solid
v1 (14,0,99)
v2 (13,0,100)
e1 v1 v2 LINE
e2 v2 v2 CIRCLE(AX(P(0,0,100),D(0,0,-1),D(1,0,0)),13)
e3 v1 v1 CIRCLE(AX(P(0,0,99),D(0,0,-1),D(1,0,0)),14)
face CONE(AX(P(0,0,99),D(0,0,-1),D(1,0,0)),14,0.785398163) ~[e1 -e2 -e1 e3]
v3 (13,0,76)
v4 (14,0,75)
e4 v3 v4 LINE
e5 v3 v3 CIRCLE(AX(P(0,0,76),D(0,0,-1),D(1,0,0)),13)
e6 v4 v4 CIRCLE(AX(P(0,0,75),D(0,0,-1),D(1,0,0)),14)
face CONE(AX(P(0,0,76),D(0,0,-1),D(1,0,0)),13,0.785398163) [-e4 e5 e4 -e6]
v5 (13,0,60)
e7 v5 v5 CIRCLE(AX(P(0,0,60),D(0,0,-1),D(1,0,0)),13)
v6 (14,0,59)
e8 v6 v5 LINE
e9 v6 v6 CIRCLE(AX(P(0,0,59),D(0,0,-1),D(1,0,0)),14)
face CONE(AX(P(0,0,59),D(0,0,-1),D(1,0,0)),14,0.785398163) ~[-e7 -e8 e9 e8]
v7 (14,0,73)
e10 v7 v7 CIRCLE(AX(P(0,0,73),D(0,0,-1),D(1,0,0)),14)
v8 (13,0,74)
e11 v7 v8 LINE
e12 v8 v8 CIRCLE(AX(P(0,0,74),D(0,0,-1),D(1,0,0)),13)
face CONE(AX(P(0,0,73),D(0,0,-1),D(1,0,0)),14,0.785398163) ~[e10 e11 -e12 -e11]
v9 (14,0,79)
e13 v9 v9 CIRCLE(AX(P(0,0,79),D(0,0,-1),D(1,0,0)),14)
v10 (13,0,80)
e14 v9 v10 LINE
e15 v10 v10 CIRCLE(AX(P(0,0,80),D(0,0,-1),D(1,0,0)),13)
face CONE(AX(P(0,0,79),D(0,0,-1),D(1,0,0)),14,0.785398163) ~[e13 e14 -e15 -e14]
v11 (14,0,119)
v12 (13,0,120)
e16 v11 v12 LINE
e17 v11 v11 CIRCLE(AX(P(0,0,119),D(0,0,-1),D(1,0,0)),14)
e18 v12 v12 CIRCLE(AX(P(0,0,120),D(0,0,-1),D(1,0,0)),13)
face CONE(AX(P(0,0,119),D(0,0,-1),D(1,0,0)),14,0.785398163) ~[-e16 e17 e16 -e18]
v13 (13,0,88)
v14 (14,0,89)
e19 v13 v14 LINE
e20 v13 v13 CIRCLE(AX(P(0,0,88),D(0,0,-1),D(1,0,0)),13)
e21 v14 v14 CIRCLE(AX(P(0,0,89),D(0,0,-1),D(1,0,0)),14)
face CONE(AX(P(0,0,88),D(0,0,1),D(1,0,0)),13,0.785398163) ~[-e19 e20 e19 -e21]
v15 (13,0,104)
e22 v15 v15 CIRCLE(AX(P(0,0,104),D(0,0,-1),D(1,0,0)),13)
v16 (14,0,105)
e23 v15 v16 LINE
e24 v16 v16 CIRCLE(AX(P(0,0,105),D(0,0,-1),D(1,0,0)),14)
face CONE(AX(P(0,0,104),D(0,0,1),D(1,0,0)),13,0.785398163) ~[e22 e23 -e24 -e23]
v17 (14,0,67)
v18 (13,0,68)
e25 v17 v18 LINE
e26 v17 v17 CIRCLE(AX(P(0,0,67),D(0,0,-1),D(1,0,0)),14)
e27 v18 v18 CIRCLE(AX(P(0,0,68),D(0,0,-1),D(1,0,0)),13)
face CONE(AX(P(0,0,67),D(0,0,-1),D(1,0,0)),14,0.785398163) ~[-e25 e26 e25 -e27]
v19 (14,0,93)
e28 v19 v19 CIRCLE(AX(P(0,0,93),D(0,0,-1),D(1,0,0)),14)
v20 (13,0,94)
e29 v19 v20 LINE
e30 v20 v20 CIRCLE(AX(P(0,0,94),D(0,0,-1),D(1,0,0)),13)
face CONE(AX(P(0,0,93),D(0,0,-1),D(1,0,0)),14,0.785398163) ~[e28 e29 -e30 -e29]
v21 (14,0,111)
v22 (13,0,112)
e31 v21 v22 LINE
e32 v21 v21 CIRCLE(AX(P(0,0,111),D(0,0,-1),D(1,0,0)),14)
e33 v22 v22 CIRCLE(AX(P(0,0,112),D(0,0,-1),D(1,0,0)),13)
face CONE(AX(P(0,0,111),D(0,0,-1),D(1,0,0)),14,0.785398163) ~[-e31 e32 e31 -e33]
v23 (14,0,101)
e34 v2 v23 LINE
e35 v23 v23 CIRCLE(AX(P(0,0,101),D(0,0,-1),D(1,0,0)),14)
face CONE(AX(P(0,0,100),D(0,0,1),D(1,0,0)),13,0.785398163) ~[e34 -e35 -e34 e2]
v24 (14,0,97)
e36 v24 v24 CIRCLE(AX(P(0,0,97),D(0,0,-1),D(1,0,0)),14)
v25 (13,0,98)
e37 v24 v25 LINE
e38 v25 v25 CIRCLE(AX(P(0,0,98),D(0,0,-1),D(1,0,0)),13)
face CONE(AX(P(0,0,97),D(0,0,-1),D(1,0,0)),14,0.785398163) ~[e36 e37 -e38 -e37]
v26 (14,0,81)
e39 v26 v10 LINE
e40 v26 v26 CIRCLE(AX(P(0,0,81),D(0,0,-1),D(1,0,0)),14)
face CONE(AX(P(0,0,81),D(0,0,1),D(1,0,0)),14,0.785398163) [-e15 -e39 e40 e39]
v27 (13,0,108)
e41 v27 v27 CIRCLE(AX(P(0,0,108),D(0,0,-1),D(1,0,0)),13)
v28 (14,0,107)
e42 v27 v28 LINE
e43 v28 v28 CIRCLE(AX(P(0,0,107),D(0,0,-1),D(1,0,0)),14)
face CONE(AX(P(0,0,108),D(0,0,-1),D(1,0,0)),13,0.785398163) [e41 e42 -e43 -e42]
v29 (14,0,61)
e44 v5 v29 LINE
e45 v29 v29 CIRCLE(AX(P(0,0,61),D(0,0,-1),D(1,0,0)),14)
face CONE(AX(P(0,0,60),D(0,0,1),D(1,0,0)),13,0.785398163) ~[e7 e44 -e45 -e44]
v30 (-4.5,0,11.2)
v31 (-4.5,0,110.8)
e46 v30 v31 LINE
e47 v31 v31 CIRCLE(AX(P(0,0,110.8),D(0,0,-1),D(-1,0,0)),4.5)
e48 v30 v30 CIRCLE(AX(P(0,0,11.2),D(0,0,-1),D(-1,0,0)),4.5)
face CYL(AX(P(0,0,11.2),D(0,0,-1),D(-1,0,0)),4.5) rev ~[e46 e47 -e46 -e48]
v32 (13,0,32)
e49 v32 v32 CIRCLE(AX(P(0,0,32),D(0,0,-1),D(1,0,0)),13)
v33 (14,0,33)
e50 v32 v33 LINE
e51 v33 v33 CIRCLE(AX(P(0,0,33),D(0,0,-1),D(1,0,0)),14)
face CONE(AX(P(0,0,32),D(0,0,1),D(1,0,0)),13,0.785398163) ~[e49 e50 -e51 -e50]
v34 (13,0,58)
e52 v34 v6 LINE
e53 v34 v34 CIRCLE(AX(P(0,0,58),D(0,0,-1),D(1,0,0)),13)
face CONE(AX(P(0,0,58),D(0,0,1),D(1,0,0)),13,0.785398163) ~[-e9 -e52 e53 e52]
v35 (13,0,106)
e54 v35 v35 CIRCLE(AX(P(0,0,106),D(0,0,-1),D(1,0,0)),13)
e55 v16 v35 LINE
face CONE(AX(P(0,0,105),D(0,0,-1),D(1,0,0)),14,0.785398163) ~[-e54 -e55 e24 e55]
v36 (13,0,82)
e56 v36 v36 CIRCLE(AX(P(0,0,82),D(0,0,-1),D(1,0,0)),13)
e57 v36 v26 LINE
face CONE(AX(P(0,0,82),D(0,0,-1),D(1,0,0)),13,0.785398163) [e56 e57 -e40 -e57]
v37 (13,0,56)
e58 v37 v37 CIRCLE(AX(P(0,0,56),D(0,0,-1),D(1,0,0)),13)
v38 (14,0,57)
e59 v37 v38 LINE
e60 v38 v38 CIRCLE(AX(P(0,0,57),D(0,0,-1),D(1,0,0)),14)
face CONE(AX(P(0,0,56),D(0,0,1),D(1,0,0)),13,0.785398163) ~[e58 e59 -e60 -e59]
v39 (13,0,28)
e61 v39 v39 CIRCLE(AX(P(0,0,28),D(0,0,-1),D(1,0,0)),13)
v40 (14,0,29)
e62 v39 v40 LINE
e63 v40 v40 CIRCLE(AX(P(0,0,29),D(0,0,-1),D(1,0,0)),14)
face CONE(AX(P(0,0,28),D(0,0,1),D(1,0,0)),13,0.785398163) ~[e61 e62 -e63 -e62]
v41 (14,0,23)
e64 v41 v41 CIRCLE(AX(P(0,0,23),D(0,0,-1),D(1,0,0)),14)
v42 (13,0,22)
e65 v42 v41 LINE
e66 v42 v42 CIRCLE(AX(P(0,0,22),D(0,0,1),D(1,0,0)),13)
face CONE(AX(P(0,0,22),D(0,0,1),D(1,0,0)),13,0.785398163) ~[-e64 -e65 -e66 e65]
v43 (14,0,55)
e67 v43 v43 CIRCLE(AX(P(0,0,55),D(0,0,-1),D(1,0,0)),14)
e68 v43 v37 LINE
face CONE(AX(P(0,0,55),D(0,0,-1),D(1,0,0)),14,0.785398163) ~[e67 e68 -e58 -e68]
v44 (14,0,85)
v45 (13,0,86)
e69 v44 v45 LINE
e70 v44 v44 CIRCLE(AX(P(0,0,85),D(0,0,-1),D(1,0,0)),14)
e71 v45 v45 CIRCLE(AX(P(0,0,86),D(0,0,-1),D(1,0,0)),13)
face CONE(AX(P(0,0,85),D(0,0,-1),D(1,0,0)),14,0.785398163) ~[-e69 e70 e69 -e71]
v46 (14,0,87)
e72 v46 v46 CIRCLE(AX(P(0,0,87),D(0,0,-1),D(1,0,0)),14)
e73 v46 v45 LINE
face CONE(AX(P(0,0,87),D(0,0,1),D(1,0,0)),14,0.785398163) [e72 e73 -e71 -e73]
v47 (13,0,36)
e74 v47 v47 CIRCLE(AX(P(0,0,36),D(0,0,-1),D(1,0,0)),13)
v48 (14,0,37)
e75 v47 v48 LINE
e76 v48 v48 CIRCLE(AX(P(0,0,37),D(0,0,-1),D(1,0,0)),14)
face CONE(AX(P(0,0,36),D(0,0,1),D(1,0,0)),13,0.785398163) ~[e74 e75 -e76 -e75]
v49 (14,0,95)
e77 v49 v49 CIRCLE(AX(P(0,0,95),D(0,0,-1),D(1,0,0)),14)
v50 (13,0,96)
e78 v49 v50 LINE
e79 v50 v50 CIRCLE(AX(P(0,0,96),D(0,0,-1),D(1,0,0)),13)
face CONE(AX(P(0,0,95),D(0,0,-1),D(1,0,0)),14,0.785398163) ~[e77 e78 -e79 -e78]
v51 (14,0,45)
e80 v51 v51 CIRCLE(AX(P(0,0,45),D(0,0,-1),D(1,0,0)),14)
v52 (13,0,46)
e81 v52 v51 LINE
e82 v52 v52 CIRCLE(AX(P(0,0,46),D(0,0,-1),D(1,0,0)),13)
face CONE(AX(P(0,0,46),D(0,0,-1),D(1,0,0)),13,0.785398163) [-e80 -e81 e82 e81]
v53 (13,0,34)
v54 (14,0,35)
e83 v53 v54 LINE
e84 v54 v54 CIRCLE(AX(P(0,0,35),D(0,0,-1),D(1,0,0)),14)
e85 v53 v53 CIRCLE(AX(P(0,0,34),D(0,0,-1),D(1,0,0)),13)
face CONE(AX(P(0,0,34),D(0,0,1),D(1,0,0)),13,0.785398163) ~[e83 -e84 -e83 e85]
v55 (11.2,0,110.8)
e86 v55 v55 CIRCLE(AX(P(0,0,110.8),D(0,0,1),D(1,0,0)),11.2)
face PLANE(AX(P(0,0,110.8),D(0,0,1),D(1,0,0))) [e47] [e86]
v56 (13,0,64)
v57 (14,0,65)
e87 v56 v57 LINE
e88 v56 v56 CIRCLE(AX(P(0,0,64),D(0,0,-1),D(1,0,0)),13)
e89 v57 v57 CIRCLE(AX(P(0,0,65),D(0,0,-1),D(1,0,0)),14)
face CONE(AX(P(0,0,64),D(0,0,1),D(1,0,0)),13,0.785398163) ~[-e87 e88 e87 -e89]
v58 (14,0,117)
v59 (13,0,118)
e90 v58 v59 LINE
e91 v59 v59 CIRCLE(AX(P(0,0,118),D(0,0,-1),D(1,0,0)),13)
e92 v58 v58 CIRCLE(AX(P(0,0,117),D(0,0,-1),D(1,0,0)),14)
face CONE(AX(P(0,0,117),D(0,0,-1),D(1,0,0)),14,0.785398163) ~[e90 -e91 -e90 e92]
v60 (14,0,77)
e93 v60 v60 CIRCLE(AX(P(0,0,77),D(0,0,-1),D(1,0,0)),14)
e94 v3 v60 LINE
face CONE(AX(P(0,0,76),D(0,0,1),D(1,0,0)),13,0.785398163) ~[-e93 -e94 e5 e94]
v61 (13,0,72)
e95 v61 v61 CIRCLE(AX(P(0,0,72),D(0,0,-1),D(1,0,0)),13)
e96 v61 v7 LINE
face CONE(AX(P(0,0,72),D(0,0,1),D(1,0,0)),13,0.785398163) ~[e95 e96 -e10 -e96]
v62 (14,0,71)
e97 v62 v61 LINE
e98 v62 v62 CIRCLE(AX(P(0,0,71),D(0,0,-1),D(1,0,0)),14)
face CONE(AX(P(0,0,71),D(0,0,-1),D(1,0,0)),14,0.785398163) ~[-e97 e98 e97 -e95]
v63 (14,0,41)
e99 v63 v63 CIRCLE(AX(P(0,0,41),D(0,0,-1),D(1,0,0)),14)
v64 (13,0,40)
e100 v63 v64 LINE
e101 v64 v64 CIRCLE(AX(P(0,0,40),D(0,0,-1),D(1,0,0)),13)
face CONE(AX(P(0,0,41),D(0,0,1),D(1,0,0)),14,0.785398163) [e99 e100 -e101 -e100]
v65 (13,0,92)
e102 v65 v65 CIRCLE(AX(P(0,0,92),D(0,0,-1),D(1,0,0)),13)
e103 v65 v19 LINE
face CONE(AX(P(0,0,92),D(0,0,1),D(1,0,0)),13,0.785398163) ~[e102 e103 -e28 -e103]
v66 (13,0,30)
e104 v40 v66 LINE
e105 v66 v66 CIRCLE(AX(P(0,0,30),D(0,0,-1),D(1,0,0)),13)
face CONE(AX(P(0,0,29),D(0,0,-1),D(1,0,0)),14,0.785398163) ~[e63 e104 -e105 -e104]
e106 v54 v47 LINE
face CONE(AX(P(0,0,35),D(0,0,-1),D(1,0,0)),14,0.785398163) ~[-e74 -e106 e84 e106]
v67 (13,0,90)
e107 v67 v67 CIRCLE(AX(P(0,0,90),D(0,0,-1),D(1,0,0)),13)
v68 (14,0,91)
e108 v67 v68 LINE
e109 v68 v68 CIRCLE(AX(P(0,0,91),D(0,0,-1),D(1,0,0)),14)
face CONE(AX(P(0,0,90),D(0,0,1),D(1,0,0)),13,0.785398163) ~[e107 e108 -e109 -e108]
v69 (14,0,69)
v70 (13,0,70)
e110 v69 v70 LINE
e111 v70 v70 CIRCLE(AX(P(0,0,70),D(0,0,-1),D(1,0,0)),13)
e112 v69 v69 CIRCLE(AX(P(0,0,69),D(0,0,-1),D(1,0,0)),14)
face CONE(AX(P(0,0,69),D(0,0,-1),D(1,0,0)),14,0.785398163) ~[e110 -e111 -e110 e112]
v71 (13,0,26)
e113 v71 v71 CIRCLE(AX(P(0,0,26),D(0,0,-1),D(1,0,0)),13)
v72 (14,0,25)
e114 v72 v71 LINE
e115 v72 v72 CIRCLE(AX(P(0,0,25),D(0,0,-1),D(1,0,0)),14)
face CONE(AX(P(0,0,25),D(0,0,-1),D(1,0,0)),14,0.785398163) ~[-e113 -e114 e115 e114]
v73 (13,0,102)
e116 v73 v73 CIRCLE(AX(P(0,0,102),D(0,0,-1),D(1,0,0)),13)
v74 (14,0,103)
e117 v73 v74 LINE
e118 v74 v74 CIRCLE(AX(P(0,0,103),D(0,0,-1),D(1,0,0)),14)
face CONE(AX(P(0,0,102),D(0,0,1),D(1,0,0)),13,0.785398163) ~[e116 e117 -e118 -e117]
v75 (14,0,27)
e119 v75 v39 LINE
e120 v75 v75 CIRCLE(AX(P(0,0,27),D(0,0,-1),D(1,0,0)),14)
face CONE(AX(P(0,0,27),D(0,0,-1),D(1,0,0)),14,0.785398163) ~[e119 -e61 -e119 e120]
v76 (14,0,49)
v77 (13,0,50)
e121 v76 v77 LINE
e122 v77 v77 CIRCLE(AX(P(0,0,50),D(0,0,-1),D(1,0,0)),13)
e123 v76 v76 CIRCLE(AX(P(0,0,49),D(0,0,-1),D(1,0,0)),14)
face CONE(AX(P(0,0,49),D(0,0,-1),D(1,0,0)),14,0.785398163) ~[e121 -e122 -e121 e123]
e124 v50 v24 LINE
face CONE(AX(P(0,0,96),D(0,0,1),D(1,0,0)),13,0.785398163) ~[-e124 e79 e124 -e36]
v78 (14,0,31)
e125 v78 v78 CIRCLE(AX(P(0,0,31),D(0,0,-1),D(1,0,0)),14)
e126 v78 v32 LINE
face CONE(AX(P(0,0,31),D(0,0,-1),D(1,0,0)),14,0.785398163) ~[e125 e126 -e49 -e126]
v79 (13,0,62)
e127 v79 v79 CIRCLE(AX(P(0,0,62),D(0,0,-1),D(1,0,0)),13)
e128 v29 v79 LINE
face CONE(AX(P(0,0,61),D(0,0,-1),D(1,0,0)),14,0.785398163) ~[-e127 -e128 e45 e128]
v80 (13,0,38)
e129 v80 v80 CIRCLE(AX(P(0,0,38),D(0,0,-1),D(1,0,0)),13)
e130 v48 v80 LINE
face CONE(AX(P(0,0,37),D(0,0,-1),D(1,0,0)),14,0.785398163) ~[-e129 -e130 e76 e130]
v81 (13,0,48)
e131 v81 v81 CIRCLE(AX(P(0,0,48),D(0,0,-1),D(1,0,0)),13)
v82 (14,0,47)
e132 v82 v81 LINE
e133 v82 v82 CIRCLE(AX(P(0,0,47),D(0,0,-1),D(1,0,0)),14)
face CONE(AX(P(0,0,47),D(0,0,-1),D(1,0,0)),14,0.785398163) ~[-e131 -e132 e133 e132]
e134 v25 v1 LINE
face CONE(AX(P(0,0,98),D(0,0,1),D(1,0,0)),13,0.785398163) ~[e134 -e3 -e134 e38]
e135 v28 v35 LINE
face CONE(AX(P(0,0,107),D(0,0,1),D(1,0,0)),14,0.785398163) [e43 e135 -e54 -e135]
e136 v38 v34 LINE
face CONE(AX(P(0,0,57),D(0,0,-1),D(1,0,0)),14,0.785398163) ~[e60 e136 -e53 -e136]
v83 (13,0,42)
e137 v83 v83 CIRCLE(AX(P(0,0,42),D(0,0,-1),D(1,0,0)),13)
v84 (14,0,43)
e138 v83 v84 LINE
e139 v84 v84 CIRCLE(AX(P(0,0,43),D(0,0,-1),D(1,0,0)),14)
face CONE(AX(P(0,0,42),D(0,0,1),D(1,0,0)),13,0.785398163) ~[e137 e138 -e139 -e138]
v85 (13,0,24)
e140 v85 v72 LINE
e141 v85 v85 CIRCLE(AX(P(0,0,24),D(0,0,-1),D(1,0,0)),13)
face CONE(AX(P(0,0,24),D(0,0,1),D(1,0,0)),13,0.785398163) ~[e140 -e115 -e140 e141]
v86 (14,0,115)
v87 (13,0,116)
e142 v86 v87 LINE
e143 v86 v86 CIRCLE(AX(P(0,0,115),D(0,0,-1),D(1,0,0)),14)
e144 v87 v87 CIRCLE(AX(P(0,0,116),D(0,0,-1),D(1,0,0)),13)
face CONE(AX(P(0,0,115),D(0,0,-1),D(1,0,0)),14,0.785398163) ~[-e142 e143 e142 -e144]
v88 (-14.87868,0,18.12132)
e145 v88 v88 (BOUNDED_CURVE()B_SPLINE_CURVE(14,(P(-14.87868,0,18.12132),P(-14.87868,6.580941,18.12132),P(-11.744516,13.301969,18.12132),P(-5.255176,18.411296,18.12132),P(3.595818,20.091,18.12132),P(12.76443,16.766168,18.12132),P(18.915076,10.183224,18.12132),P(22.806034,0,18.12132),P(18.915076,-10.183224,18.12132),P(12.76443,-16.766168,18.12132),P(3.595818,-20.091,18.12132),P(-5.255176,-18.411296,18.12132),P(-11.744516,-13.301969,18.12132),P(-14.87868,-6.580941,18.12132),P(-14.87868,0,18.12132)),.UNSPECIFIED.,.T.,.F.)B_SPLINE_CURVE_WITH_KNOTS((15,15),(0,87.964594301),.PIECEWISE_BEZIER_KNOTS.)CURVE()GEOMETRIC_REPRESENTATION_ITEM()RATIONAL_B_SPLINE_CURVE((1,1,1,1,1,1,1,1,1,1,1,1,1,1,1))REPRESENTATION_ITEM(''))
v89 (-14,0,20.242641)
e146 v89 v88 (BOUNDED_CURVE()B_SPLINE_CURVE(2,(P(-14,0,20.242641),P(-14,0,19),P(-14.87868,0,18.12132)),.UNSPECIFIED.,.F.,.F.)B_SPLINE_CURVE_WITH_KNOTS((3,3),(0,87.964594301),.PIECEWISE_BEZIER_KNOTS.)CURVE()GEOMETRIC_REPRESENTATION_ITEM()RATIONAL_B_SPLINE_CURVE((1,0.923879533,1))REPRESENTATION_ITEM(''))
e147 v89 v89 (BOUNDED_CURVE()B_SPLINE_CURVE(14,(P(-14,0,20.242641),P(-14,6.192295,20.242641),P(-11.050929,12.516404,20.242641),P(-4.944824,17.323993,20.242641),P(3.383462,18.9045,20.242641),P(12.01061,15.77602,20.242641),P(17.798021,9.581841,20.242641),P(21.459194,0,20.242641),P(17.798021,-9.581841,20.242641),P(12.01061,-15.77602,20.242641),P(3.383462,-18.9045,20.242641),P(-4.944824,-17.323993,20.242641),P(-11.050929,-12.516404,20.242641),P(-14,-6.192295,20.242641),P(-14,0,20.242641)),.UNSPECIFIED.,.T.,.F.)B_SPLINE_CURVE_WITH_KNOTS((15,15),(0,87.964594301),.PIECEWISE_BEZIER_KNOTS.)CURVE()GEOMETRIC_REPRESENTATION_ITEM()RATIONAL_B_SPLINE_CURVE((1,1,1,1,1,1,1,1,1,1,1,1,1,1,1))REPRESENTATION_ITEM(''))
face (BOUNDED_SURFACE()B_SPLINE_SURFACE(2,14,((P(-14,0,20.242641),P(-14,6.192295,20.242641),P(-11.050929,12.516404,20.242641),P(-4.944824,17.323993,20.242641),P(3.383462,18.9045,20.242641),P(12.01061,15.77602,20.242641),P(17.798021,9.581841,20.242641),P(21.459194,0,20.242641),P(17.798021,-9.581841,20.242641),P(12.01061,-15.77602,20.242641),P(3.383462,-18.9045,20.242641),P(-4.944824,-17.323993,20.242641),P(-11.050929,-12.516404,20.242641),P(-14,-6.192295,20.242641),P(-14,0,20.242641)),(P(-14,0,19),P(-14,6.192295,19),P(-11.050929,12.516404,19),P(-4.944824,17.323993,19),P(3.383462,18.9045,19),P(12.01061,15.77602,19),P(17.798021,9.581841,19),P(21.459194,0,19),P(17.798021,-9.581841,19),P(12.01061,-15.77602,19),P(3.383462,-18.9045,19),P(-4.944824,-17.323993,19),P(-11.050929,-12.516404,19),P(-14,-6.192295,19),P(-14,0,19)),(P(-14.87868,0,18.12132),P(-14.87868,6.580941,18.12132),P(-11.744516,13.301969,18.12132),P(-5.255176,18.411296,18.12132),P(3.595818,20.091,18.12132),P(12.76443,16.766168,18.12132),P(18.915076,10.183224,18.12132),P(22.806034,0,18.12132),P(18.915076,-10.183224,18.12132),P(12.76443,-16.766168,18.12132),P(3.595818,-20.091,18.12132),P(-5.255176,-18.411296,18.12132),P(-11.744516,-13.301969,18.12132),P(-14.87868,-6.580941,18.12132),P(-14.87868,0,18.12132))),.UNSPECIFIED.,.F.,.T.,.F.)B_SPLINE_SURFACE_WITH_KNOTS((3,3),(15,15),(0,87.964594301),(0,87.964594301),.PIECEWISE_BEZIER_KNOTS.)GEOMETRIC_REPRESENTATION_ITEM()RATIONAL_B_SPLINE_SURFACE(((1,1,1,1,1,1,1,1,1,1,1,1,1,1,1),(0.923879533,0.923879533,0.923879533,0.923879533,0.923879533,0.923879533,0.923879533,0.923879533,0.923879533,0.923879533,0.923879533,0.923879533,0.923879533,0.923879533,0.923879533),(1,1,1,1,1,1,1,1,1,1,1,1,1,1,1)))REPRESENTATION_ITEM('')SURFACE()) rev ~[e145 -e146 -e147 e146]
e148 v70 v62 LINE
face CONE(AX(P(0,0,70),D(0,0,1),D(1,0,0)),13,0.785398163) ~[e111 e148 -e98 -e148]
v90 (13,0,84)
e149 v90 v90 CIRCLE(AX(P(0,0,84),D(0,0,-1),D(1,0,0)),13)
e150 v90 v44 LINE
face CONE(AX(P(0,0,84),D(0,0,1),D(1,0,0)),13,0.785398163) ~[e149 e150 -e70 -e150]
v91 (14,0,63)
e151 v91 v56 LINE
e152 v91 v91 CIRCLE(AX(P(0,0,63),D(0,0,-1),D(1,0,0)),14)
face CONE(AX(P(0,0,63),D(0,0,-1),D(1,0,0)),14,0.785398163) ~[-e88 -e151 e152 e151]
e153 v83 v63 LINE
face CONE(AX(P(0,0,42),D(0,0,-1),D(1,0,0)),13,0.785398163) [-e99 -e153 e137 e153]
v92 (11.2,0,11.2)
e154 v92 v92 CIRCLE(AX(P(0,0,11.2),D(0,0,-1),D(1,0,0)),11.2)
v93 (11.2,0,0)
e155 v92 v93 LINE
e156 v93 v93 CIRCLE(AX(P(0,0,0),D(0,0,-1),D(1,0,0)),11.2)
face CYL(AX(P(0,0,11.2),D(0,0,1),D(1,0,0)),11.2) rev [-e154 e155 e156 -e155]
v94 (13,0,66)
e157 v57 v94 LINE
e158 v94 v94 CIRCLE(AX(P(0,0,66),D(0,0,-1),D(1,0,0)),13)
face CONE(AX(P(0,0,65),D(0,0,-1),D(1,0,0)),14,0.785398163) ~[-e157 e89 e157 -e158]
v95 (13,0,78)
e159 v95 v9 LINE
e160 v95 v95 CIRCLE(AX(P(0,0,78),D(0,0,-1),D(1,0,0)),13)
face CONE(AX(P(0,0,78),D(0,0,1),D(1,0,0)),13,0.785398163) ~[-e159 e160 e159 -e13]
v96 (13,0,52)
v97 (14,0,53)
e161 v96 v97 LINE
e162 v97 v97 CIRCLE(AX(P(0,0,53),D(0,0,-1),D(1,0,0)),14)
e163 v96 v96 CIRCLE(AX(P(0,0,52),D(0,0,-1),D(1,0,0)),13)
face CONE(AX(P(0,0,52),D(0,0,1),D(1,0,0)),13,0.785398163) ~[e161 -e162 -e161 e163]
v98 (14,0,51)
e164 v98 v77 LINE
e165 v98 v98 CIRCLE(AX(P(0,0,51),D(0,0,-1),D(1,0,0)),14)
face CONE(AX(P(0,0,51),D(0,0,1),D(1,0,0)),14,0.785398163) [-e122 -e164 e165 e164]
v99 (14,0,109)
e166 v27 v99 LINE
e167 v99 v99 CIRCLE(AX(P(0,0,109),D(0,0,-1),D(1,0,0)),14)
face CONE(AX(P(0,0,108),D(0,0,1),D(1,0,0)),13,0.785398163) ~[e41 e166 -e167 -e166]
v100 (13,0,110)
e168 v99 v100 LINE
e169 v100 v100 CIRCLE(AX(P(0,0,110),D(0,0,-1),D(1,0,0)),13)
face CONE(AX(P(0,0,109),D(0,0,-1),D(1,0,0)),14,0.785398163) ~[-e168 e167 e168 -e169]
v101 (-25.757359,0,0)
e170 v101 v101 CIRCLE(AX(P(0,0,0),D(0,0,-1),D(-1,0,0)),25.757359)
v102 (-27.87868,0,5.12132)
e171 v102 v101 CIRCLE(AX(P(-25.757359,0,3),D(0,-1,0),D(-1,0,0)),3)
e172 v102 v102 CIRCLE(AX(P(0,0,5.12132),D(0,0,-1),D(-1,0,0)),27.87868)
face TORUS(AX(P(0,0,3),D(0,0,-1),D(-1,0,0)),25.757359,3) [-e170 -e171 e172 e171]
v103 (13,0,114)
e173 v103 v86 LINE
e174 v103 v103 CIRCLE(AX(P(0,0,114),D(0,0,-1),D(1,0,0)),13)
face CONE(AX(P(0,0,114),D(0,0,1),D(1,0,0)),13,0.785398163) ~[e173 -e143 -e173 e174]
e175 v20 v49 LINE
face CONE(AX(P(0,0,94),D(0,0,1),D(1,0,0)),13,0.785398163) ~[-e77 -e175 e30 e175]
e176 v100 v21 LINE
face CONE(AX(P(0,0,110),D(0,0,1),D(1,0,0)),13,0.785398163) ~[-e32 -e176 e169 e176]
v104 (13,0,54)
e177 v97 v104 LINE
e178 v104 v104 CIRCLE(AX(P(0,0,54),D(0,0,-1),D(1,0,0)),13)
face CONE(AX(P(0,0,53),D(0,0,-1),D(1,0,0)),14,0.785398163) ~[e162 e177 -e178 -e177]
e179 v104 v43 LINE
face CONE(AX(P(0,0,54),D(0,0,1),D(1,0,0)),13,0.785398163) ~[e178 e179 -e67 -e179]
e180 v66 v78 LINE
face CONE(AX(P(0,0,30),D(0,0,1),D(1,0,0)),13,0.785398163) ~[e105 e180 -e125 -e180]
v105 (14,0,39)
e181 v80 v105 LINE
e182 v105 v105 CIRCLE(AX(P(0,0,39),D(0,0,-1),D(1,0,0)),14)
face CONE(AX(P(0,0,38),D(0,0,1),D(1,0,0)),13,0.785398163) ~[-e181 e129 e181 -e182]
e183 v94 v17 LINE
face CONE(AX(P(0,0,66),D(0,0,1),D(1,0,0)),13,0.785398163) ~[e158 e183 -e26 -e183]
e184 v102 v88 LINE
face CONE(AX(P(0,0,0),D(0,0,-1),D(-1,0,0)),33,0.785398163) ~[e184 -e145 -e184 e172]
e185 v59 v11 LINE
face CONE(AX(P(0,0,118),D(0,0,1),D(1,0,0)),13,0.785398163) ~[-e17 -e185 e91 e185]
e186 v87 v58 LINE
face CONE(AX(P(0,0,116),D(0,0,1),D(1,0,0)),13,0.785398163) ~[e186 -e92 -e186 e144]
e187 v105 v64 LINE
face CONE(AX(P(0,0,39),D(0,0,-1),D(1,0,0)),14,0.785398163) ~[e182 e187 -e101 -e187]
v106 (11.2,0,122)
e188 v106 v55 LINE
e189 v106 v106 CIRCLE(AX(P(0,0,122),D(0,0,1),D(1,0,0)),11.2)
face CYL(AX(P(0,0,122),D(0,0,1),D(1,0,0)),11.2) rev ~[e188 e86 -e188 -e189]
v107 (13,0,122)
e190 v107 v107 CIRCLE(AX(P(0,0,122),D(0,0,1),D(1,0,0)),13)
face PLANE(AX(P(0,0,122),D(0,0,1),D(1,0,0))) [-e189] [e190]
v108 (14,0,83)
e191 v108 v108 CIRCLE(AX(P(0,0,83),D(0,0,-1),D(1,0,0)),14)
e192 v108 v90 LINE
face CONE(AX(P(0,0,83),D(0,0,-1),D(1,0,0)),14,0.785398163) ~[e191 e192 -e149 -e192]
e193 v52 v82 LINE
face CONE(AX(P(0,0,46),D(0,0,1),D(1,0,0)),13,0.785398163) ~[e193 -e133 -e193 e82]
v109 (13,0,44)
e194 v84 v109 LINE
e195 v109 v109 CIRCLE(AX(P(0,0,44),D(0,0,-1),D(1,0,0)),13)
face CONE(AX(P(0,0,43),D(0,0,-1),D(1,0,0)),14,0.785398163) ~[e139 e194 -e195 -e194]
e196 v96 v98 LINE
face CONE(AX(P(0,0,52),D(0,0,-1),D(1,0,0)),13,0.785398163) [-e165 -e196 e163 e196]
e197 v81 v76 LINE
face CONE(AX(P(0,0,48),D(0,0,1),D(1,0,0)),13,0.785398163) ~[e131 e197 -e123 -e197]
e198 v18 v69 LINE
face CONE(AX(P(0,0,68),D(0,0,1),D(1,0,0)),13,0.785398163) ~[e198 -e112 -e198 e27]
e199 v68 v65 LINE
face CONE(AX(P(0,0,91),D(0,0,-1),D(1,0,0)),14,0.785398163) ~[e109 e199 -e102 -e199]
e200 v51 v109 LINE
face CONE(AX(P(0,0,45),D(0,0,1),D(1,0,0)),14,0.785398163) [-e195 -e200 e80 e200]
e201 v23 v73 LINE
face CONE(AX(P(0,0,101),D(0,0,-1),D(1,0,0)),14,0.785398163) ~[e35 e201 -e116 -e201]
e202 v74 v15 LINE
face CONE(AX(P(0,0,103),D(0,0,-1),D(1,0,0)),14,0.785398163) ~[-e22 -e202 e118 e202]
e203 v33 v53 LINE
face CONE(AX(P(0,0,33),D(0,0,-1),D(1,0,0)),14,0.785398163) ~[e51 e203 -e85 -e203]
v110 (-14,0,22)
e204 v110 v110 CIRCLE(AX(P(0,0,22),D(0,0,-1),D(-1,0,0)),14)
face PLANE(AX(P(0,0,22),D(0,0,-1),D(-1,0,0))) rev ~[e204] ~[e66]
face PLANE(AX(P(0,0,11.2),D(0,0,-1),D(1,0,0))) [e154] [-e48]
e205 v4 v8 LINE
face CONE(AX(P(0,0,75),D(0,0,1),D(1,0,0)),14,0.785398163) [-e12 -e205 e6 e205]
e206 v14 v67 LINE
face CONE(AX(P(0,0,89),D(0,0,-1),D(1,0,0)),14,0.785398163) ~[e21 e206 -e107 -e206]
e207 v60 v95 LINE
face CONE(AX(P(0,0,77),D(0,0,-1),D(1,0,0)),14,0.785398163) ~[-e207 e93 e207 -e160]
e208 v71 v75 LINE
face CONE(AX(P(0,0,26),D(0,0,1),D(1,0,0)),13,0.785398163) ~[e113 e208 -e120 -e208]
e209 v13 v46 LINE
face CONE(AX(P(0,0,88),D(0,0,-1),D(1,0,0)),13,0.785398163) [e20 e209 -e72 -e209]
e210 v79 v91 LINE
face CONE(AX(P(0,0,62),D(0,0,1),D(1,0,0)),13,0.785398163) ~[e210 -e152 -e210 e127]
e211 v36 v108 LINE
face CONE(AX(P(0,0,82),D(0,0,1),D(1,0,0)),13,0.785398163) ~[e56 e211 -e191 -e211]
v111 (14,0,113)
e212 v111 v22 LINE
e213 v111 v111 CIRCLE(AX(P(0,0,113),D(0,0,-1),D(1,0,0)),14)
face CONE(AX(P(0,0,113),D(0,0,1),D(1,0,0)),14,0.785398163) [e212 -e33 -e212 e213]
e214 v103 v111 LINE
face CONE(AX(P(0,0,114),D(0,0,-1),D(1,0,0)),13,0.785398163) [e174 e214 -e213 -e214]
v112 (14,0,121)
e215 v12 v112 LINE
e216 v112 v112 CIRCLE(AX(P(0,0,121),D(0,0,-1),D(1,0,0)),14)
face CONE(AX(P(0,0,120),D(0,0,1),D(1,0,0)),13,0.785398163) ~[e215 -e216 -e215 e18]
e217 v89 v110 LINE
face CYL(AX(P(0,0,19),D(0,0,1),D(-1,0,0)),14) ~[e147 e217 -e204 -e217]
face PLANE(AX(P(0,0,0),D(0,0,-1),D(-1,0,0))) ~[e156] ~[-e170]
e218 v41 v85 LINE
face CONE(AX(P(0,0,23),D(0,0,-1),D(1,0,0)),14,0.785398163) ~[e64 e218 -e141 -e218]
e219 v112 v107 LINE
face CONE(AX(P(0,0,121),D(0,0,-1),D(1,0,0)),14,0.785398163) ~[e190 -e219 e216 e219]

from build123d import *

# Parameters (mm, degrees)
CROQUIS2_R              = 13
SALIENTE_EXTRUIR1_DEPTH = 100
REDONDEO1_R             = 3
CROQUIS8_R              = 11.2
CORTAR_EXTRUIR1_DEPTH   = 11.2
CORTAR_EXTRUIR2_START   = -11.2
CROQUIS9_R              = 11.2
CORTAR_EXTRUIR2_DEPTH   = 11.2
CORTAR_EXTRUIR3_REACH   = 120.028
CROQUIS10_R             = 4.5


with BuildPart() as part:
    # Croquis1 → Revolución1 (revolve)
    with BuildSketch(Plane.XZ, mode=Mode.PRIVATE) as revoluci_n1_sk:
        Polygon((14, 22), (0, 22), (0, 0), (33, 0), (14, 19), align=None)
    revolve(revoluci_n1_sk.sketch.rotate(Axis((0, 0, 22), (0, 0, -1)), 180), axis=Axis((0, 0, 22), (0, 0, -1)))

    # Croquis2 → Saliente-Extruir1 (add)
    with BuildSketch(Plane.XY.offset(22)):
        Circle(CROQUIS2_R)
    extrude(amount=SALIENTE_EXTRUIR1_DEPTH)

    # Redondeo1
    redondeo1_edges = [part.edges().sort_by_distance(p)[0] for p in [
        (14, 0, 19),
        (33, 0, 0),
    ]]
    fillet(redondeo1_edges, radius=REDONDEO1_R)

    # Croquis6 → Revolución2 (revolve)
    with BuildSketch(Plane(origin=(0, 0, 0), x_dir=(0, 0, -1), z_dir=(1, 0, 0)), mode=Mode.PRIVATE) as revoluci_n2_sk:
        Polygon((-70, 13), (-68, 13), (-69, 14), align=None)
        Polygon((-32, 13), (-30, 13), (-31, 14), align=None)
        Polygon((-23, 14), (-24, 13), (-22, 13), align=None)
        Polygon((-25, 14), (-26, 13), (-24, 13), align=None)
        Polygon((-27, 14), (-28, 13), (-26, 13), align=None)
        Polygon((-29, 14), (-30, 13), (-28, 13), align=None)
        Polygon((-31, 14), (-32, 13), (-30, 13), align=None)
        Polygon((-33, 14), (-34, 13), (-32, 13), align=None)
        Polygon((-35, 14), (-36, 13), (-34, 13), align=None)
        Polygon((-37, 14), (-38, 13), (-36, 13), align=None)
        Polygon((-105, 14), (-106, 13), (-104, 13), align=None)
        Polygon((-115, 14), (-116, 13), (-114, 13), align=None)
        Polygon((-117, 14), (-118, 13), (-116, 13), align=None)
        Polygon((-40, 13), (-38, 13), (-39, 14), align=None)
        Polygon((-41, 14), (-40, 13), (-42, 13), align=None)
        Polygon((-44, 13), (-42, 13), (-43, 14), align=None)
        Polygon((-45, 14), (-44, 13), (-46, 13), align=None)
        Polygon((-48, 13), (-46, 13), (-47, 14), align=None)
        Polygon((-50, 13), (-48, 13), (-49, 14), align=None)
        Polygon((-51, 14), (-50, 13), (-52, 13), align=None)
        Polygon((-53, 14), (-54, 13), (-52, 13), align=None)
        Polygon((-56, 13), (-54, 13), (-55, 14), align=None)
        Polygon((-58, 13), (-56, 13), (-57, 14), align=None)
        Polygon((-60, 13), (-58, 13), (-59, 14), align=None)
        Polygon((-62, 13), (-60, 13), (-61, 14), align=None)
        Polygon((-64, 13), (-62, 13), (-63, 14), align=None)
        Polygon((-66, 13), (-64, 13), (-65, 14), align=None)
        Polygon((-67, 14), (-68, 13), (-66, 13), align=None)
        Polygon((-71, 14), (-72, 13), (-70, 13), align=None)
        Polygon((-74, 13), (-72, 13), (-73, 14), align=None)
        Polygon((-75, 14), (-74, 13), (-76, 13), align=None)
        Polygon((-78, 13), (-76, 13), (-77, 14), align=None)
        Polygon((-80, 13), (-78, 13), (-79, 14), align=None)
        Polygon((-81, 14), (-80, 13), (-82, 13), align=None)
        Polygon((-83, 14), (-84, 13), (-82, 13), align=None)
        Polygon((-85, 14), (-86, 13), (-84, 13), align=None)
        Polygon((-87, 14), (-86, 13), (-88, 13), align=None)
        Polygon((-89, 14), (-90, 13), (-88, 13), align=None)
        Polygon((-92, 13), (-90, 13), (-91, 14), align=None)
        Polygon((-94, 13), (-92, 13), (-93, 14), align=None)
        Polygon((-96, 13), (-94, 13), (-95, 14), align=None)
        Polygon((-98, 13), (-96, 13), (-97, 14), align=None)
        Polygon((-100, 13), (-98, 13), (-99, 14), align=None)
        Polygon((-102, 13), (-100, 13), (-101, 14), align=None)
        Polygon((-104, 13), (-102, 13), (-103, 14), align=None)
        Polygon((-107, 14), (-106, 13), (-108, 13), align=None)
        Polygon((-110, 13), (-108, 13), (-109, 14), align=None)
        Polygon((-112, 13), (-110, 13), (-111, 14), align=None)
        Polygon((-113, 14), (-112, 13), (-114, 13), align=None)
        Polygon((-120, 13), (-118, 13), (-119, 14), align=None)
        Polygon((-122, 13), (-120, 13), (-121, 14), align=None)
    revolve(revoluci_n2_sk.sketch.rotate(Axis((0, 0, 122), (0, 0, -1)), 90), axis=Axis((0, 0, 122), (0, 0, -1)))

    # Croquis8 → Cortar-Extruir1 (cut)
    with BuildSketch(Plane.XY.offset(122)):
        Circle(CROQUIS8_R)
    extrude(amount=-CORTAR_EXTRUIR1_DEPTH, mode=Mode.SUBTRACT)

    # Croquis9 → Cortar-Extruir2 (cut)
    with BuildSketch(Plane(origin=(0, 0, 0), x_dir=(-1, 0, 0), z_dir=(0, 0, -1)).offset(CORTAR_EXTRUIR2_START)):
        with Locations(Location((0, 0, 0), (0, 0, 180))):
            Circle(CROQUIS9_R)
    extrude(amount=CORTAR_EXTRUIR2_DEPTH, mode=Mode.SUBTRACT)

    # Croquis10 → Cortar-Extruir3 (cut, up to next)
    with BuildSketch(Plane(origin=(0, 0, 11.2), x_dir=(-1, 0, 0), z_dir=(0, 0, -1)), mode=Mode.PRIVATE) as cortar_extruir3_sk1:
        Circle(CROQUIS10_R)
    cortar_extruir3_tool1 = extrude(cortar_extruir3_sk1.sketch, amount=-CORTAR_EXTRUIR3_REACH, mode=Mode.PRIVATE) & part.part
    add(cortar_extruir3_tool1.solids().sort_by_distance((0, 0, 11.2))[0], mode=Mode.SUBTRACT)


solid = part.part
